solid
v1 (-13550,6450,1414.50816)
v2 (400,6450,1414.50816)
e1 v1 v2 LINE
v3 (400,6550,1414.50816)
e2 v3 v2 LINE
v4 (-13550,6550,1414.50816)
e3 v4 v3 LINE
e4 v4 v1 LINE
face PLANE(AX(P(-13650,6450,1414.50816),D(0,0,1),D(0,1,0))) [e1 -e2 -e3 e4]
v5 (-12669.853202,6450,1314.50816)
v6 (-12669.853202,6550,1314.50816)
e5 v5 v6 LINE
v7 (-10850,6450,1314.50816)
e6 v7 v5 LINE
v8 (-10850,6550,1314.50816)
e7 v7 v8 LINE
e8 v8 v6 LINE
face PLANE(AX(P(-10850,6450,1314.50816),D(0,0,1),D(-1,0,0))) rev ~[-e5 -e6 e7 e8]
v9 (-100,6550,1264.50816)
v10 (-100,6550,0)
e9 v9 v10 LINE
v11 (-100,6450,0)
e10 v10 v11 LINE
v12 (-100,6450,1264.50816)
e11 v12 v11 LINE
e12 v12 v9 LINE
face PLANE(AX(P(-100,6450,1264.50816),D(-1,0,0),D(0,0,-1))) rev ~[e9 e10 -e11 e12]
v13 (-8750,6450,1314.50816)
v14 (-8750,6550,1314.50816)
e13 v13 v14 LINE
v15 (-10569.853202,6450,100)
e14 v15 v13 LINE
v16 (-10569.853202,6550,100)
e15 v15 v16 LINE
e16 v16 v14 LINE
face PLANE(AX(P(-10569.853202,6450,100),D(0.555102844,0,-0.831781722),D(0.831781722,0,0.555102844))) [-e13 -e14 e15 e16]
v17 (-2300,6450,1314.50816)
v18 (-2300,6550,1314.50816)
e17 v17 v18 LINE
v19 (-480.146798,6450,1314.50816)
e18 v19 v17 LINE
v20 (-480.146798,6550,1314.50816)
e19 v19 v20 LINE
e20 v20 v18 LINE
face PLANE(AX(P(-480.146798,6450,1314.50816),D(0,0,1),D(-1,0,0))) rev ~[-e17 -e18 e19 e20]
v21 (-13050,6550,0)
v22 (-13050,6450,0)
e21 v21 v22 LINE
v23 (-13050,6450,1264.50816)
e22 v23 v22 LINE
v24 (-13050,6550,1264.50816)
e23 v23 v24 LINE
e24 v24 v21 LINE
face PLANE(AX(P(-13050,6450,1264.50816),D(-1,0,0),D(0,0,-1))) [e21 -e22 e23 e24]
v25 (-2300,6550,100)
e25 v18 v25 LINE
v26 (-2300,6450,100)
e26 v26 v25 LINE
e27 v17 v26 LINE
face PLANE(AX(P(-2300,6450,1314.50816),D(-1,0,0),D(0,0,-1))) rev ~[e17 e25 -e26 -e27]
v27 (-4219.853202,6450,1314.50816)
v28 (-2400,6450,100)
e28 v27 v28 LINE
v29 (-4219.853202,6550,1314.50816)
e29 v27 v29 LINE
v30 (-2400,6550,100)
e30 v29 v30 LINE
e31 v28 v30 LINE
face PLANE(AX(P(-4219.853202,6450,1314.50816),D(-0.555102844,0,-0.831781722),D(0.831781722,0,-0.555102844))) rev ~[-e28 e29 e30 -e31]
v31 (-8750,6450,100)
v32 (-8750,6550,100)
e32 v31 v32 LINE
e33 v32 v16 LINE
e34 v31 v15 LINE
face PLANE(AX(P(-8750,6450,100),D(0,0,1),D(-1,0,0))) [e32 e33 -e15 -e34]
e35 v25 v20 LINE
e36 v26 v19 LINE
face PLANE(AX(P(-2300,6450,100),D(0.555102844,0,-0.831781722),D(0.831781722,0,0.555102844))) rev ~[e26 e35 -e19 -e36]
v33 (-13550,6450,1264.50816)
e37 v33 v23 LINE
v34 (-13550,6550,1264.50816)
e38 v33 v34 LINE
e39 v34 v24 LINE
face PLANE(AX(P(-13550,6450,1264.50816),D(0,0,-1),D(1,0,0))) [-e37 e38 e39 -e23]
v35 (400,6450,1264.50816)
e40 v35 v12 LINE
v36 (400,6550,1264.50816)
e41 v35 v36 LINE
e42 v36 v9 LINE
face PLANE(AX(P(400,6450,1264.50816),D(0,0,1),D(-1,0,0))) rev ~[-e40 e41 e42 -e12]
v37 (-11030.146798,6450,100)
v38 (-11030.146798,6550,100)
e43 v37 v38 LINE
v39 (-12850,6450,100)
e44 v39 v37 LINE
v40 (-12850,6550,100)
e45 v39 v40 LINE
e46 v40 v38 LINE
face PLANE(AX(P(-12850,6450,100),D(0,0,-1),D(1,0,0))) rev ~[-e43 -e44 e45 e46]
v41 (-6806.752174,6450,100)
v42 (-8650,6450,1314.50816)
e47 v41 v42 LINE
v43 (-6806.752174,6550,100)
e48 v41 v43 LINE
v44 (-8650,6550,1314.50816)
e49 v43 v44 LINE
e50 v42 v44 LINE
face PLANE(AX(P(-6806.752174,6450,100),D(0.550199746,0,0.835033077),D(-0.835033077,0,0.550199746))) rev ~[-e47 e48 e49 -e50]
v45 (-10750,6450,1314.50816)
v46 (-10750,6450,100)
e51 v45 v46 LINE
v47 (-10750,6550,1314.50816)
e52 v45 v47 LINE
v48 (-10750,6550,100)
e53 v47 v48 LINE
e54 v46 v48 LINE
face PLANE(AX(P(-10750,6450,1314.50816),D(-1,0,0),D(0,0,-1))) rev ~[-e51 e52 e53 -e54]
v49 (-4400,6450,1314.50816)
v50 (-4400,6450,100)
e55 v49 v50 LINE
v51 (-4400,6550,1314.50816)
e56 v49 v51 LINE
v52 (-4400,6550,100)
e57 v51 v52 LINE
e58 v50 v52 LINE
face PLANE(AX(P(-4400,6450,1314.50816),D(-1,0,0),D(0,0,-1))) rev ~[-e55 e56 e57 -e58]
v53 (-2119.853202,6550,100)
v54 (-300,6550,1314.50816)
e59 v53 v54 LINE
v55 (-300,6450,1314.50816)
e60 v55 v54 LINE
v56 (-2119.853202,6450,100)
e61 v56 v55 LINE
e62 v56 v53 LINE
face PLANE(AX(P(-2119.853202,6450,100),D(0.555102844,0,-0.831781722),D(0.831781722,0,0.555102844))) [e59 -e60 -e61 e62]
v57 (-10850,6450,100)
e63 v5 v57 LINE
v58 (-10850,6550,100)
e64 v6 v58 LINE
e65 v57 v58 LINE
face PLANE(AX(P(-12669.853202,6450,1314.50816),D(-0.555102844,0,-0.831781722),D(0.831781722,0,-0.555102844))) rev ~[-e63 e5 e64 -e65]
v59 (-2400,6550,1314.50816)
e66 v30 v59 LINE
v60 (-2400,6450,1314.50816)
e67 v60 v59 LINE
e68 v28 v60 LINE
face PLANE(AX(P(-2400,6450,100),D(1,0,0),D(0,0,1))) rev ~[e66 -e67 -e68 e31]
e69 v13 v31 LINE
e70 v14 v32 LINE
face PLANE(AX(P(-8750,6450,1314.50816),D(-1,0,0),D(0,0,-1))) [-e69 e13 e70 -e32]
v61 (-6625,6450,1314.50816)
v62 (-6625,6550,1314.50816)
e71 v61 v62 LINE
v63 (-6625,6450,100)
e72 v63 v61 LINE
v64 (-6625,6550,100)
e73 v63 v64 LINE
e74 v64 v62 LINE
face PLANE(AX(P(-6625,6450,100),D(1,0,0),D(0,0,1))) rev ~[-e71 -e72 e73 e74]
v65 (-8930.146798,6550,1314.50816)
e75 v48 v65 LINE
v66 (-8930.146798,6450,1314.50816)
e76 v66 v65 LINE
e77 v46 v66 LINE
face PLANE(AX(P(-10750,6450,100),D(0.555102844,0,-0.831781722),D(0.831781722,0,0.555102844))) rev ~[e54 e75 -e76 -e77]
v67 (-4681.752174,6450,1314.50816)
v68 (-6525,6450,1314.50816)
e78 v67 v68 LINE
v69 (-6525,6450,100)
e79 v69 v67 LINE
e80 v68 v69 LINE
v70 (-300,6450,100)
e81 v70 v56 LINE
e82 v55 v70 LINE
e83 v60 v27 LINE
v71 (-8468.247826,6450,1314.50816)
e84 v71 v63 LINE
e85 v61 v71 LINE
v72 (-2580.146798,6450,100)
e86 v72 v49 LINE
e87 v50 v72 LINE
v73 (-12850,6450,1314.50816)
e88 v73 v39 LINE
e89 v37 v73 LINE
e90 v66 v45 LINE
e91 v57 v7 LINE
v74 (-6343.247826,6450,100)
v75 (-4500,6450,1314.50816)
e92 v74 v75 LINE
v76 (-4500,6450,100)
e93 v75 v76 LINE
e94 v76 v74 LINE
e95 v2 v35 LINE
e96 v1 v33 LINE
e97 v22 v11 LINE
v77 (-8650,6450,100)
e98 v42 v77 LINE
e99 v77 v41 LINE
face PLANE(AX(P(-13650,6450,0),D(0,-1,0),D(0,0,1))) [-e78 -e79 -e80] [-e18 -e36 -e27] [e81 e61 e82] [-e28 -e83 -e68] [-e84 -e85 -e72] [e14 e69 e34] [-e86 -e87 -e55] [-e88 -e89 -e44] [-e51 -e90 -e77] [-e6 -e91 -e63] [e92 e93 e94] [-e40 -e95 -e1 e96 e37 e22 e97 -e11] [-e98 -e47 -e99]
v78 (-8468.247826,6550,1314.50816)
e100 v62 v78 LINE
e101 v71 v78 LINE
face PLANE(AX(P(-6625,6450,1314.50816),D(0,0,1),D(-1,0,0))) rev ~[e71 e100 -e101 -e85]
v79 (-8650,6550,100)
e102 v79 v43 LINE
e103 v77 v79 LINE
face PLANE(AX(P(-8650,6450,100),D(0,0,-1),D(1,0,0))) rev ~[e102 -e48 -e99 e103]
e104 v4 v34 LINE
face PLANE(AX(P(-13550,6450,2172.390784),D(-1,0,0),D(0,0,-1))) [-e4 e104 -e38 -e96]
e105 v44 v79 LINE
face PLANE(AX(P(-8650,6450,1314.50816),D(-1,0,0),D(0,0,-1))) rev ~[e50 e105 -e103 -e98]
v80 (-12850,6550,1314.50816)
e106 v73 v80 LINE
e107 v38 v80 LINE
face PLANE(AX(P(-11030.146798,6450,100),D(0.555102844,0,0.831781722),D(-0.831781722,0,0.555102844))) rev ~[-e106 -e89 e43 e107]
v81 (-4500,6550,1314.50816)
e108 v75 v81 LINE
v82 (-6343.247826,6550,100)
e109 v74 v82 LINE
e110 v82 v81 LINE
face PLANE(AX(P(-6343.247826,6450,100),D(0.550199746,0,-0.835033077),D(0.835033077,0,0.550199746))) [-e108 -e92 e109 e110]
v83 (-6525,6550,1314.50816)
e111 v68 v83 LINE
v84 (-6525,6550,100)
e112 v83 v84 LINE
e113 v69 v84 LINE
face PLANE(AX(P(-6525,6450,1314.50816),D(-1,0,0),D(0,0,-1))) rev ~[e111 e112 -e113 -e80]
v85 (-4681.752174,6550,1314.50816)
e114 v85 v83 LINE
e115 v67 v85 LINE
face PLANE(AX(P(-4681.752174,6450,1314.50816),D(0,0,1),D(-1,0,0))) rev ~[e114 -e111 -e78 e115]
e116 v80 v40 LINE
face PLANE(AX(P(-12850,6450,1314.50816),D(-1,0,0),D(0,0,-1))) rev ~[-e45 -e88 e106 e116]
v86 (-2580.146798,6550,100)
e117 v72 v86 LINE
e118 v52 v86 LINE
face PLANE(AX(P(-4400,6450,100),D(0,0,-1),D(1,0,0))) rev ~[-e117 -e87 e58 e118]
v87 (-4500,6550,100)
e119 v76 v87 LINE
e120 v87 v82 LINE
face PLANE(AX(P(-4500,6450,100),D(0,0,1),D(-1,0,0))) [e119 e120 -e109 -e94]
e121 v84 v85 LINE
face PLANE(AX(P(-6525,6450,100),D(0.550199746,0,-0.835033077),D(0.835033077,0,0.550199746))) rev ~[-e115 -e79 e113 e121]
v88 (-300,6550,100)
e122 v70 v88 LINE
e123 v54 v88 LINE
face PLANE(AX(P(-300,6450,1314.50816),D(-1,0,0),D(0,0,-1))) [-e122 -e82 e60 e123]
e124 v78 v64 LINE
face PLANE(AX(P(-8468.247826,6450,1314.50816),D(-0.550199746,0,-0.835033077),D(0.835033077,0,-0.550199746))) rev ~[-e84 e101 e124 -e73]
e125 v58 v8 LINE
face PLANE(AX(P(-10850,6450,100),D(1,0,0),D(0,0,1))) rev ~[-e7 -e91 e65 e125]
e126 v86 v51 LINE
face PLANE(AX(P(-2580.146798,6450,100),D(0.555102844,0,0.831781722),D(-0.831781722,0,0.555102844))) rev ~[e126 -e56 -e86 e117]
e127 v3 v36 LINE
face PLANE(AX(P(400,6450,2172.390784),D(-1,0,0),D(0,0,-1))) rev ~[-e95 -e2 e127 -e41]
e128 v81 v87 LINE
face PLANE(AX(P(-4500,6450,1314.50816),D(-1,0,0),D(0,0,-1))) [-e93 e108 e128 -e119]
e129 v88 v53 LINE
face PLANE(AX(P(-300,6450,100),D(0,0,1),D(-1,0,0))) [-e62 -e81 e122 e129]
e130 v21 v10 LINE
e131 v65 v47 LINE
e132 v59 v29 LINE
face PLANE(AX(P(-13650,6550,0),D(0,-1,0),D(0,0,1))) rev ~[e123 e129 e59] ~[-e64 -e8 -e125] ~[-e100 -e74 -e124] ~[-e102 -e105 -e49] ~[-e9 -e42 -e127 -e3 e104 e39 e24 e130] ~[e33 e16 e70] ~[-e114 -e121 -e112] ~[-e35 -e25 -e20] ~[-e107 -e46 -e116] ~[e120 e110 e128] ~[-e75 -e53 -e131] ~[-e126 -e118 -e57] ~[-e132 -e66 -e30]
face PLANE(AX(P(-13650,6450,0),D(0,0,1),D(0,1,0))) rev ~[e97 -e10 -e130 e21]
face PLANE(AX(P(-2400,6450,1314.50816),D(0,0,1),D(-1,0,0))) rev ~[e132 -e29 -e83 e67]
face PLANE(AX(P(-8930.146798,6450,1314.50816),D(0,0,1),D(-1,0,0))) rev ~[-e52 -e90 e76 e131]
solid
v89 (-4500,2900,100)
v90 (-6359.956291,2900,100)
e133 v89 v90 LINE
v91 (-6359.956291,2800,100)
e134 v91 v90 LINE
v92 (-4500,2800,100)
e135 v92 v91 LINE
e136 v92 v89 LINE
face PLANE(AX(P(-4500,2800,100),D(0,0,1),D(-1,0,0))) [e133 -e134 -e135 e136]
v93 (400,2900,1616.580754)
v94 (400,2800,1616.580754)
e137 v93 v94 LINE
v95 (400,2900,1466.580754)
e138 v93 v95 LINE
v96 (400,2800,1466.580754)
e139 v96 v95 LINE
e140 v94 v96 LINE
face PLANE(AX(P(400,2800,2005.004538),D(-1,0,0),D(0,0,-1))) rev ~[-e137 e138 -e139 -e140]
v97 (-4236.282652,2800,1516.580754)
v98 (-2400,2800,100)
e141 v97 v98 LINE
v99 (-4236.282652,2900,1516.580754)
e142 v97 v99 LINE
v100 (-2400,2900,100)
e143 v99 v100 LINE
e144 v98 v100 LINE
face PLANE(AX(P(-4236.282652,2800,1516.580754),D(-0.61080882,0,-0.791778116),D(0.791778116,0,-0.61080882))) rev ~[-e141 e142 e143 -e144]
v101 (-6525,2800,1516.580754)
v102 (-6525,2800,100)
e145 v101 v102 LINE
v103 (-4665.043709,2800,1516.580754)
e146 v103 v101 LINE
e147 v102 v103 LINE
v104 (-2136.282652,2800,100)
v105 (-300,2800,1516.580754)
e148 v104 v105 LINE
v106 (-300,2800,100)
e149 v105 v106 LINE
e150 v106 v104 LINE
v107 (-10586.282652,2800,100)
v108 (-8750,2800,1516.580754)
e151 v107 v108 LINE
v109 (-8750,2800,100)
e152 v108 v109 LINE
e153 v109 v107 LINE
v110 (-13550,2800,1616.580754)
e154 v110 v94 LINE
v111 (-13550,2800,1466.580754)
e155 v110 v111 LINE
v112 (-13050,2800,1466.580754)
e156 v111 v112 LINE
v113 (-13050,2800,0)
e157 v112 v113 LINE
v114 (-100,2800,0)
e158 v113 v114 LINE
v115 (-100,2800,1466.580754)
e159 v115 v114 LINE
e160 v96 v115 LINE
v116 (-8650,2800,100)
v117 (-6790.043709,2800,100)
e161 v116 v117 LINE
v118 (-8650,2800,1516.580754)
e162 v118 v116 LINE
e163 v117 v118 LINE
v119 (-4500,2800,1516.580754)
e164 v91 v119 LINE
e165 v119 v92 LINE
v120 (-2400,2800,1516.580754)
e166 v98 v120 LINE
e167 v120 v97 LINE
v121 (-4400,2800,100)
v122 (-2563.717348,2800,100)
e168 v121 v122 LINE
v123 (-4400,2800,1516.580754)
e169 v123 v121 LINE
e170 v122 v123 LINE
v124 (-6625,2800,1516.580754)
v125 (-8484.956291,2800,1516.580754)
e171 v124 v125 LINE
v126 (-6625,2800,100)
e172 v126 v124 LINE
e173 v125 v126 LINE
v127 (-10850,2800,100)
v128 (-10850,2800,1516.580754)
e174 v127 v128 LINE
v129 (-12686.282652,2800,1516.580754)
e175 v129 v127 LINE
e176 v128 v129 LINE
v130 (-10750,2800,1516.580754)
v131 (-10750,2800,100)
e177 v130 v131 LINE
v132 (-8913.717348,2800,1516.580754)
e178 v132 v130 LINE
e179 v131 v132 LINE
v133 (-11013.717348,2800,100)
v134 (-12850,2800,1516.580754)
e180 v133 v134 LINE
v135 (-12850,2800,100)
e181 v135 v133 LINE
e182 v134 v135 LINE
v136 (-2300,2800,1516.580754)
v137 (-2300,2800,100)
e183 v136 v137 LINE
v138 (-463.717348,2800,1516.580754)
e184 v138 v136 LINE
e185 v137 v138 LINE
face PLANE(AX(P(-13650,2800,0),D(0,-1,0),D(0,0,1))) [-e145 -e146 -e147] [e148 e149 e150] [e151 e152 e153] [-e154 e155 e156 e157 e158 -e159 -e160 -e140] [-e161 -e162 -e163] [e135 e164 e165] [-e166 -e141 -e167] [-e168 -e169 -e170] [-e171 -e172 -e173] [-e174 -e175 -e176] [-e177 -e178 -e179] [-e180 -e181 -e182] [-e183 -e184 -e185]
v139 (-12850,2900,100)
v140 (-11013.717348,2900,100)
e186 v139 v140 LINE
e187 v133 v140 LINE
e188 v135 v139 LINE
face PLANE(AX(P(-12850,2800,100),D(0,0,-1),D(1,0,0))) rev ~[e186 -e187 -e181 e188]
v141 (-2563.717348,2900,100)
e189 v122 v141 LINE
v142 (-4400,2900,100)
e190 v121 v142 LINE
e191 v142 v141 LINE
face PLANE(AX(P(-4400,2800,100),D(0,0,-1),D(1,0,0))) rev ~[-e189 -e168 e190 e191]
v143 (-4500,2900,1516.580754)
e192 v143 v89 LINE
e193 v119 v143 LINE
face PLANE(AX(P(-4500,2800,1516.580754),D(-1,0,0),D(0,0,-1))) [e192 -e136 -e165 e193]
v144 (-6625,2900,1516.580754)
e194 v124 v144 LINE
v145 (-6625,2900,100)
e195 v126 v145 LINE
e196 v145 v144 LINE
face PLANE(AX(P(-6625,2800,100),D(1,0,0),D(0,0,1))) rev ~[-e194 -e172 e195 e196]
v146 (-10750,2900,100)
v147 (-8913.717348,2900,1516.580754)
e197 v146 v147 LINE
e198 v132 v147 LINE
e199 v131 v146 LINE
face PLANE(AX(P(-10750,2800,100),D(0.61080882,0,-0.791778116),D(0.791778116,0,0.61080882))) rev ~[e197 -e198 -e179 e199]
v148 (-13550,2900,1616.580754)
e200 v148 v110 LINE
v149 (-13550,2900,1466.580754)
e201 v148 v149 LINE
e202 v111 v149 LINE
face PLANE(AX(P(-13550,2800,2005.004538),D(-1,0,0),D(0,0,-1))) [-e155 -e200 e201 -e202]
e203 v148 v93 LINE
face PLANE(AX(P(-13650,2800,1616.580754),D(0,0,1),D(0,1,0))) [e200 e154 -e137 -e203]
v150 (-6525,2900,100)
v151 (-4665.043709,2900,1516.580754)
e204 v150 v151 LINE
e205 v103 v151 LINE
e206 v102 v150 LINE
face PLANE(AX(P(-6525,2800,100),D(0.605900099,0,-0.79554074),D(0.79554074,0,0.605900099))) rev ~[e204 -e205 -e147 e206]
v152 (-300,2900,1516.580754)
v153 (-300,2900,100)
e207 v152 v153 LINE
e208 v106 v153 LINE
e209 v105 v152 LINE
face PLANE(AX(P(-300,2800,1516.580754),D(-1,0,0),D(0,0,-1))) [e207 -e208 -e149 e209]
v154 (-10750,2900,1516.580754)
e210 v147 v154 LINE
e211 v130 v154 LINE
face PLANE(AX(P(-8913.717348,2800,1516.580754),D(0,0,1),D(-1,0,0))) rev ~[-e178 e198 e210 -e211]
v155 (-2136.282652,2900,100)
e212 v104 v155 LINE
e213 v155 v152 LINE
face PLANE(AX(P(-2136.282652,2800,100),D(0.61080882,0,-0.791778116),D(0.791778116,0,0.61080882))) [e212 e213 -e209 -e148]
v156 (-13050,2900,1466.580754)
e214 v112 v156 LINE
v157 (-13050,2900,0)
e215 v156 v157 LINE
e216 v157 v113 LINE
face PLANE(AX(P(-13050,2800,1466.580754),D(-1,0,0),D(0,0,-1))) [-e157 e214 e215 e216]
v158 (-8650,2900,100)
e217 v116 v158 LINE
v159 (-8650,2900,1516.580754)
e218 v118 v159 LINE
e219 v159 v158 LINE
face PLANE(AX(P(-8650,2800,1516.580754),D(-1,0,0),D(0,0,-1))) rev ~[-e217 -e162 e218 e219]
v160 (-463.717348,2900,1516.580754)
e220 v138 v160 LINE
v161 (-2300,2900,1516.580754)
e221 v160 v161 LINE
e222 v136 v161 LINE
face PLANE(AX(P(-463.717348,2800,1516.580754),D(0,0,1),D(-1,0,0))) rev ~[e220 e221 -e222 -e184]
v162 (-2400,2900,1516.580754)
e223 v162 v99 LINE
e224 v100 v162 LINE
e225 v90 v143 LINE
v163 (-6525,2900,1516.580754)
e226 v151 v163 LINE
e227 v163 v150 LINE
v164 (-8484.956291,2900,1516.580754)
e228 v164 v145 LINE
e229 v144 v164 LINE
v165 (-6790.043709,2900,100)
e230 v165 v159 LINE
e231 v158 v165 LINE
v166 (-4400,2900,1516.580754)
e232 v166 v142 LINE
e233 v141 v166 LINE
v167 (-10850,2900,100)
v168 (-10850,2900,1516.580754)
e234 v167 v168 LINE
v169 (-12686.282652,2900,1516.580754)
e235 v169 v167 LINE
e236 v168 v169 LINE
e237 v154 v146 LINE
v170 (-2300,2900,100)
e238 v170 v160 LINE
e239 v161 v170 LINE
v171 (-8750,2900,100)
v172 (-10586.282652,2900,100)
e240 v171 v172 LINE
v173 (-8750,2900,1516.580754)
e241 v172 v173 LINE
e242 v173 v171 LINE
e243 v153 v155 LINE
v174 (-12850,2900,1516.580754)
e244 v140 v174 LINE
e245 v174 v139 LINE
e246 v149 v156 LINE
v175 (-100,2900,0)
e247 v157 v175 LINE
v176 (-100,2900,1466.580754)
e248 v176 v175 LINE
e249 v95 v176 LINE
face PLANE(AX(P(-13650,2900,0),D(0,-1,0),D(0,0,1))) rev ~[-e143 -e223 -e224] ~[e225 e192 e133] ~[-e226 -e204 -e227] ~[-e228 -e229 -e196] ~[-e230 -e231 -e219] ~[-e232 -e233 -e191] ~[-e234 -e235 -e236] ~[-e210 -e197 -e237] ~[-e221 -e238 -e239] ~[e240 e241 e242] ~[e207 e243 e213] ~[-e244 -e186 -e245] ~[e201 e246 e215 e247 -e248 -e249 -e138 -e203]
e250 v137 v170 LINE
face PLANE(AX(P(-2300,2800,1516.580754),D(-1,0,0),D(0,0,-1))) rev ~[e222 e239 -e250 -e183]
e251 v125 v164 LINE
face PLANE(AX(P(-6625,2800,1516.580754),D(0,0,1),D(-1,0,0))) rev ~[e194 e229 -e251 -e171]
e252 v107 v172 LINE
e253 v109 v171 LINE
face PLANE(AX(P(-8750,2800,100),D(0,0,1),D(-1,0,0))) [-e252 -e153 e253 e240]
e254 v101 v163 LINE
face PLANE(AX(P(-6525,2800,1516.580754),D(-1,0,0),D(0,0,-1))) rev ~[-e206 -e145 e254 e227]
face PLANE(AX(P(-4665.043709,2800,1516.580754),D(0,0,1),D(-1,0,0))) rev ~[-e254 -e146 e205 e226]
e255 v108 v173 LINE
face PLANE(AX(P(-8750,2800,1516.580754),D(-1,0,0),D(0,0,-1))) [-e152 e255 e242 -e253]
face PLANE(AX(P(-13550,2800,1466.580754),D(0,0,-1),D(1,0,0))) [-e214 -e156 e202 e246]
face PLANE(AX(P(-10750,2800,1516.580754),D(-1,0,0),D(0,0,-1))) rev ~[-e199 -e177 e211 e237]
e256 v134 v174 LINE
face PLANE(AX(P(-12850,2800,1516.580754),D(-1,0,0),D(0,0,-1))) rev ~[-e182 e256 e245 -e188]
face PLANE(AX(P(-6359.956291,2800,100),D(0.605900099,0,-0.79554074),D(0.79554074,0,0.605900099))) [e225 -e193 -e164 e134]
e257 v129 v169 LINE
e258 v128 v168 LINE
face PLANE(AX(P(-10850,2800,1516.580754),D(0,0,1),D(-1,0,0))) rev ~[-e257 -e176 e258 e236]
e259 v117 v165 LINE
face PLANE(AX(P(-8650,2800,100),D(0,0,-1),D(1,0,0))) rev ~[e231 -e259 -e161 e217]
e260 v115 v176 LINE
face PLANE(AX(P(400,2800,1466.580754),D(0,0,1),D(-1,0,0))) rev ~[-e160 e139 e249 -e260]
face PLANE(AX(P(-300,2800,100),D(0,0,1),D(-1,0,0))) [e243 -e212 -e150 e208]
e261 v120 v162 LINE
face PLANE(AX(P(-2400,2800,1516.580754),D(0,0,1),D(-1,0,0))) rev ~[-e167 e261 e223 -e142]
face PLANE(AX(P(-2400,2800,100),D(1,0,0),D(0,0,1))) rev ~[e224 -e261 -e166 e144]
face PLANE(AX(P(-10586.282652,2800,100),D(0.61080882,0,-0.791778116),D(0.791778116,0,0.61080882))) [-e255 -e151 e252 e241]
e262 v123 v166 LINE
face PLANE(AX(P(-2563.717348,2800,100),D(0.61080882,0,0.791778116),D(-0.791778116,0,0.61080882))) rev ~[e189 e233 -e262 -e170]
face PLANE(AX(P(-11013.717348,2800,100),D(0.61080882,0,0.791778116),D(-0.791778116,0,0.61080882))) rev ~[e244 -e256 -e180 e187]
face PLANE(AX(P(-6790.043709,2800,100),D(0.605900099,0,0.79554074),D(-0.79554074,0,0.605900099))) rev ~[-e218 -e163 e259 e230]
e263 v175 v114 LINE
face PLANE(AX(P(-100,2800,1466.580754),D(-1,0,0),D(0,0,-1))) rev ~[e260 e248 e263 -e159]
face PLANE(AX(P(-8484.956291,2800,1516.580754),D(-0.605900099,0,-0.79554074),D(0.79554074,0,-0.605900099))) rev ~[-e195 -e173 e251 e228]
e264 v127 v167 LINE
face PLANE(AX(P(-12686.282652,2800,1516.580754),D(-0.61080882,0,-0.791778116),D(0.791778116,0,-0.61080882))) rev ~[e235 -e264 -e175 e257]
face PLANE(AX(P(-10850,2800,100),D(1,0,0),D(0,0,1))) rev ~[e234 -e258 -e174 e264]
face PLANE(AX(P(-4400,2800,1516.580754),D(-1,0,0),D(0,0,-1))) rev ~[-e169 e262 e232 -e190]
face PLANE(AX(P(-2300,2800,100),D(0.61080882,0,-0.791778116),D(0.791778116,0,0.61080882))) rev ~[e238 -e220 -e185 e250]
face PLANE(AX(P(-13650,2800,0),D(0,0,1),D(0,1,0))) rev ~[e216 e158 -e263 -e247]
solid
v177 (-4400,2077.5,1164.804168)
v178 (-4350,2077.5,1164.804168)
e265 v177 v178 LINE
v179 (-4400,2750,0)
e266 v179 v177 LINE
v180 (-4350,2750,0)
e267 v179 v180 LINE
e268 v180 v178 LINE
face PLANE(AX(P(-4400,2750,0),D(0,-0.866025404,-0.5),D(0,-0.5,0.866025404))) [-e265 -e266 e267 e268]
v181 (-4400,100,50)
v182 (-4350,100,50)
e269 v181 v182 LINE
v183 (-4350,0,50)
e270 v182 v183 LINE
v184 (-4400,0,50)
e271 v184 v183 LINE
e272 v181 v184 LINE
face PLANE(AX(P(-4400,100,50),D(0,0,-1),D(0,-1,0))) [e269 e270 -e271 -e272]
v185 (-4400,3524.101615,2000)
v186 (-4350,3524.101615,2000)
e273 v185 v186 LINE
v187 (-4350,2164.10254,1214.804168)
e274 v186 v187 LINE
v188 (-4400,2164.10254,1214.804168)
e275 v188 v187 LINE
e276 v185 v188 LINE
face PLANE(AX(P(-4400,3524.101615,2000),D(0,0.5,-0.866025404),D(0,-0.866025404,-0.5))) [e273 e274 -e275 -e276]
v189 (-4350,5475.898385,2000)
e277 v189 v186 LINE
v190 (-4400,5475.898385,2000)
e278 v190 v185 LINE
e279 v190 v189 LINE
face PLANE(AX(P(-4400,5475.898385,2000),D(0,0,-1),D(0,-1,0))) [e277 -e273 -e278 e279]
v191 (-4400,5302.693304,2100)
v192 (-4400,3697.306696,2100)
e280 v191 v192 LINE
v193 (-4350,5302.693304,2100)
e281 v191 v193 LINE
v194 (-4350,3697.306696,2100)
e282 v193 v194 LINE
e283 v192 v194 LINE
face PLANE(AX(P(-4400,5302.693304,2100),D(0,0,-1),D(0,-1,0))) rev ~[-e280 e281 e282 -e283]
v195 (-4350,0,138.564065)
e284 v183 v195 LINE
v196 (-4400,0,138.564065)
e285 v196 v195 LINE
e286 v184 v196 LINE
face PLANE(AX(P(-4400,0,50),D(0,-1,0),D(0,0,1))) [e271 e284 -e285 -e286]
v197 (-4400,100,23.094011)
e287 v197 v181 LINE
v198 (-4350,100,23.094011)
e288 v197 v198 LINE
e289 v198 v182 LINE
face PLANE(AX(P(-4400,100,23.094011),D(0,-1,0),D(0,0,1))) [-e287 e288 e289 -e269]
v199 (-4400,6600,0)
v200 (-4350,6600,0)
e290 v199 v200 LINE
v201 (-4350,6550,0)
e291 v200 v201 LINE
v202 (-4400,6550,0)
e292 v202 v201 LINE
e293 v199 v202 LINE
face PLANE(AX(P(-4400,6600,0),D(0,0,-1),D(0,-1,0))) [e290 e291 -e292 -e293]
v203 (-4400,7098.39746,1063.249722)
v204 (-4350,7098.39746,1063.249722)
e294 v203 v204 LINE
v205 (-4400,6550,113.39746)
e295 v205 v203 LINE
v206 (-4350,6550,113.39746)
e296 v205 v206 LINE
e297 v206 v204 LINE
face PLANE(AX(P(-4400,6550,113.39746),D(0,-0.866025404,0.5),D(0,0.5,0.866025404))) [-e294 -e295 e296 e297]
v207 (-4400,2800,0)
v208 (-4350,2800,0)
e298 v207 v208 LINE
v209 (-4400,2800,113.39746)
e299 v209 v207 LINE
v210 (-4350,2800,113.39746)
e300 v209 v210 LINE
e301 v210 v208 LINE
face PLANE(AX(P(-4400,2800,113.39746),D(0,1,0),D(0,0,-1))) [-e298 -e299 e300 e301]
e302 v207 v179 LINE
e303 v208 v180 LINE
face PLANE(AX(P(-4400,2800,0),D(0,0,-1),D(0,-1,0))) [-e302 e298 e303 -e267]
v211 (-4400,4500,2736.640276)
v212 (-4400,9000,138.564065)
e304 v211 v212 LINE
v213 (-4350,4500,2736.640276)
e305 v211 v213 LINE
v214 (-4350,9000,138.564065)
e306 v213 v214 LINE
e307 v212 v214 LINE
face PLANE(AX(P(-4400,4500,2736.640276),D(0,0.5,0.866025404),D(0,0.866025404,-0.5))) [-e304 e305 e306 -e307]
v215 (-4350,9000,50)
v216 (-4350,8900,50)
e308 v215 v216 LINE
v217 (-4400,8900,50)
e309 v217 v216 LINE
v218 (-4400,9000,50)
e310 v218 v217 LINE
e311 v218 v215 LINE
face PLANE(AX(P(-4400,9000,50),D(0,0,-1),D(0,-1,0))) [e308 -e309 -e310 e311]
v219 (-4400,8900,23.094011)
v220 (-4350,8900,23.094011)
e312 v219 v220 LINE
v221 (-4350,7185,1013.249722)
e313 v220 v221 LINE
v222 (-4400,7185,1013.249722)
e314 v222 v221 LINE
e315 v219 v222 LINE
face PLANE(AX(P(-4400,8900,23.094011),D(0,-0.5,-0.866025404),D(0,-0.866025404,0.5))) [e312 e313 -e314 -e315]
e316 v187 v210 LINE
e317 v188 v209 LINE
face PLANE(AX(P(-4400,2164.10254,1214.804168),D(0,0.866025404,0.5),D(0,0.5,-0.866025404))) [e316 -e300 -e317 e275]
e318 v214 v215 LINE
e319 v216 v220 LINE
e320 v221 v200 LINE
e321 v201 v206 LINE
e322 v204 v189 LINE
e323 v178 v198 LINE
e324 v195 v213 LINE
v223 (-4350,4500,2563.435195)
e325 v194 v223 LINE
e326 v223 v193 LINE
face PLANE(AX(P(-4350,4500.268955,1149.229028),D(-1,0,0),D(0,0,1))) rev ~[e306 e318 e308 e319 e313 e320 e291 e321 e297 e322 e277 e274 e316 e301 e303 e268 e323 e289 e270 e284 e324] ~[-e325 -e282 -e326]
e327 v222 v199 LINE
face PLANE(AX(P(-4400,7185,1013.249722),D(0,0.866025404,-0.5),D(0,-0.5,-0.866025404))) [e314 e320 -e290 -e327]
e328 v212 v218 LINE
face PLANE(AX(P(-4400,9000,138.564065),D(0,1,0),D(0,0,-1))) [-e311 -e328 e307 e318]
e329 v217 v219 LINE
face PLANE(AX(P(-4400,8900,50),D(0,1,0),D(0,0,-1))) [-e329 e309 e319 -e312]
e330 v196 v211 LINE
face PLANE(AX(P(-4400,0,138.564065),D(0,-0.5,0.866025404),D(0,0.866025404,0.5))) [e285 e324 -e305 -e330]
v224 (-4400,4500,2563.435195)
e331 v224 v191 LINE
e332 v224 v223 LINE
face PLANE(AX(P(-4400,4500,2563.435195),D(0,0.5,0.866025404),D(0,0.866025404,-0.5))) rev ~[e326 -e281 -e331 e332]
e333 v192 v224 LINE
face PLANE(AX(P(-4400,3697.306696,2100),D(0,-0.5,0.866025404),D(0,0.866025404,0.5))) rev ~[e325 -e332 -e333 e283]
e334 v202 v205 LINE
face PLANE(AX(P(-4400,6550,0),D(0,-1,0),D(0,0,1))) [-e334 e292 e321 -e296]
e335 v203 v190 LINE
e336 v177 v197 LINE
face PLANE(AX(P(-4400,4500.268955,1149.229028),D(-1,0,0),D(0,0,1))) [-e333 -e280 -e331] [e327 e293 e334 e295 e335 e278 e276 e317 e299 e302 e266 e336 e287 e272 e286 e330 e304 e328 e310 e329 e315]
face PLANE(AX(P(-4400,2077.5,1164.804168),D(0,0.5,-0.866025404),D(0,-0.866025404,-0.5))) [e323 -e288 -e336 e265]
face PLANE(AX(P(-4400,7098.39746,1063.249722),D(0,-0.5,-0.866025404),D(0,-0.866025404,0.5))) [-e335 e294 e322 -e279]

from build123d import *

# Parameters (mm, degrees)
SKETCH_2_W          = 1414.508159515
SKETCH_2_H          = 100
EXTRUDE_2_DEPTH     = 14150
SKETCH_2_W_2        = 1616.580753731
EXTRUDE_2_2_DEPTH   = 14150
CUT_EXTRUDE_1_DEPTH = 1162
CUT_EXTRUDE_2_DEPTH = 1162
CUT_EXTRUDE_3_DEPTH = 1162
CUT_EXTRUDE_4_DEPTH = 1162
EXTRUDE_3_DEPTH     = 50


with BuildPart() as part:
    # Эскиз2 → Бобышка-Вытянуть2 (new body)
    with BuildSketch(Plane.ZY.offset(13650)):
        with Locations((707.254079757, 6500)):
            Rectangle(SKETCH_2_W, SKETCH_2_H)
    extrude(amount=-EXTRUDE_2_DEPTH)

    # Эскиз4 → Вырез-Вытянуть2 (cut)
    with BuildSketch(Plane.XZ.offset(-6450)):
        Polygon((-13550, 2172.390784196), (-13550, 1264.508159515), (-13050, 1264.508159515), (-13050, -667.571915867), (-15150.61658298, -667.571915867), (-15150.61658298, 2172.390784196), align=None)
        Polygon((2000.61658298, -667.571915867), (2000.61658298, 2172.390784196), (400, 2172.390784196), (400, 1264.508159515), (-100, 1264.508159515), (-100, -667.571915867), align=None)
    extrude(amount=-CUT_EXTRUDE_2_DEPTH, mode=Mode.SUBTRACT)

    # Эскиз6 → Вырез-Вытянуть4 (cut)
    with BuildSketch(Plane.XZ.offset(-6450)):
        Polygon((-12850, 1314.508159515), (-12850, 100), (-11030.146798172, 100), align=None)
        Polygon((-12669.853201828, 1314.508159515), (-10850, 100), (-10850, 1314.508159515), align=None)
        Polygon((-8750, 100), (-10569.853201828, 100), (-8750, 1314.508159515), align=None)
        Polygon((-8930.146798172, 1314.508159515), (-10750, 1314.508159515), (-10750, 100), align=None)
        Polygon((-8650, 1314.508159515), (-8650, 100), (-6806.75217409, 100), align=None)
        Polygon((-8468.24782591, 1314.508159515), (-6625, 100), (-6625, 1314.508159515), align=None)
        Polygon((-4681.75217409, 1314.508159515), (-6525, 1314.508159515), (-6525, 100), align=None)
        Polygon((-6343.24782591, 100), (-4500, 1314.508159515), (-4500, 100), align=None)
        Polygon((-4400, 1314.508159515), (-4400, 100), (-2580.146798172, 100), align=None)
        Polygon((-4219.853201828, 1314.508159515), (-2400, 100), (-2400, 1314.508159515), align=None)
        Polygon((-480.146798172, 1314.508159515), (-2300, 1314.508159515), (-2300, 100), align=None)
        Polygon((-300, 100), (-2119.853201828, 100), (-300, 1314.508159515), align=None)
    extrude(amount=-CUT_EXTRUDE_4_DEPTH, mode=Mode.SUBTRACT)


with BuildPart() as body_2:
    # Эскиз2 → Extrude 2 2 (new body)
    with BuildSketch(Plane.ZY.offset(13650)):
        with Locations((808.290376866, 2850)):
            Rectangle(SKETCH_2_W_2, SKETCH_2_H)
    extrude(amount=-EXTRUDE_2_2_DEPTH)

    # Эскиз3 → Вырез-Вытянуть1 (cut)
    with BuildSketch(Plane.XZ.offset(-2800)):
        Polygon((-13550, 2005.004538192), (-13550, 1466.580753731), (-13050, 1466.580753731), (-13050, -834.958161872), (-14812.735944929, -834.958161872), (-14812.735944929, 2005.004538192), align=None)
        Polygon((1662.735944929, -834.958161872), (1662.735944929, 2005.004538192), (400, 2005.004538192), (400, 1466.580753731), (-100, 1466.580753731), (-100, -834.958161872), align=None)
    extrude(amount=-CUT_EXTRUDE_1_DEPTH, mode=Mode.SUBTRACT)

    # Эскиз5 → Вырез-Вытянуть3 (cut)
    with BuildSketch(Plane.XZ.offset(-2800)):
        Polygon((-12850, 1516.580753731), (-12850, 100), (-11013.717347698, 100), align=None)
        Polygon((-12686.282652302, 1516.580753731), (-10850, 100), (-10850, 1516.580753731), align=None)
        Polygon((-8750, 100), (-10586.282652302, 100), (-8750, 1516.580753731), align=None)
        Polygon((-8913.717347698, 1516.580753731), (-10750, 1516.580753731), (-10750, 100), align=None)
        Polygon((-8650, 1516.580753731), (-8650, 100), (-6790.043709488, 100), align=None)
        Polygon((-8484.956290512, 1516.580753731), (-6625, 100), (-6625, 1516.580753731), align=None)
        Polygon((-4665.043709488, 1516.580753731), (-6525, 1516.580753731), (-6525, 100), align=None)
        Polygon((-6359.956290512, 100), (-4500, 1516.580753731), (-4500, 100), align=None)
        Polygon((-4400, 1516.580753731), (-4400, 100), (-2563.717347698, 100), align=None)
        Polygon((-4236.282652302, 1516.580753731), (-2400, 100), (-2400, 1516.580753731), align=None)
        Polygon((-463.717347698, 1516.580753731), (-2300, 1516.580753731), (-2300, 100), align=None)
        Polygon((-300, 100), (-2136.282652302, 100), (-300, 1516.580753731), align=None)
    extrude(amount=-CUT_EXTRUDE_3_DEPTH, mode=Mode.SUBTRACT)


with BuildPart() as body_3:
    # Эскиз7 → Бобышка-Вытянуть3 (new body)
    with BuildSketch(Plane(origin=(-4400, 0, 0), x_dir=(0, 0, -1), z_dir=(1, 0, 0))):
        Polygon((-2736.640275959, 4500), (-138.564064605, 9000), (-50, 9000), (-50, 8900), (-23.094010768, 8900), (-1013.249722428, 7185), (0, 6600), (0, 6550), (-113.397459622, 6550), (-1063.249722428, 7098.397459622), (-2000, 5475.898384862), (-2000, 3524.101615138), (-1214.80416809, 2164.102540378), (-113.397459622, 2800), (0, 2800), (0, 2750), (-1164.80416809, 2077.5), (-23.094010768, 100), (-50, 100), (-50, 0), (-138.564064605, 0), align=None)
        Polygon((-2100, 5302.693304105), (-2100, 3697.306695895), (-2563.435195202, 4500), align=None, mode=Mode.SUBTRACT)
    extrude(amount=EXTRUDE_3_DEPTH)


solid = Compound([part.part, body_2.part, body_3.part])
